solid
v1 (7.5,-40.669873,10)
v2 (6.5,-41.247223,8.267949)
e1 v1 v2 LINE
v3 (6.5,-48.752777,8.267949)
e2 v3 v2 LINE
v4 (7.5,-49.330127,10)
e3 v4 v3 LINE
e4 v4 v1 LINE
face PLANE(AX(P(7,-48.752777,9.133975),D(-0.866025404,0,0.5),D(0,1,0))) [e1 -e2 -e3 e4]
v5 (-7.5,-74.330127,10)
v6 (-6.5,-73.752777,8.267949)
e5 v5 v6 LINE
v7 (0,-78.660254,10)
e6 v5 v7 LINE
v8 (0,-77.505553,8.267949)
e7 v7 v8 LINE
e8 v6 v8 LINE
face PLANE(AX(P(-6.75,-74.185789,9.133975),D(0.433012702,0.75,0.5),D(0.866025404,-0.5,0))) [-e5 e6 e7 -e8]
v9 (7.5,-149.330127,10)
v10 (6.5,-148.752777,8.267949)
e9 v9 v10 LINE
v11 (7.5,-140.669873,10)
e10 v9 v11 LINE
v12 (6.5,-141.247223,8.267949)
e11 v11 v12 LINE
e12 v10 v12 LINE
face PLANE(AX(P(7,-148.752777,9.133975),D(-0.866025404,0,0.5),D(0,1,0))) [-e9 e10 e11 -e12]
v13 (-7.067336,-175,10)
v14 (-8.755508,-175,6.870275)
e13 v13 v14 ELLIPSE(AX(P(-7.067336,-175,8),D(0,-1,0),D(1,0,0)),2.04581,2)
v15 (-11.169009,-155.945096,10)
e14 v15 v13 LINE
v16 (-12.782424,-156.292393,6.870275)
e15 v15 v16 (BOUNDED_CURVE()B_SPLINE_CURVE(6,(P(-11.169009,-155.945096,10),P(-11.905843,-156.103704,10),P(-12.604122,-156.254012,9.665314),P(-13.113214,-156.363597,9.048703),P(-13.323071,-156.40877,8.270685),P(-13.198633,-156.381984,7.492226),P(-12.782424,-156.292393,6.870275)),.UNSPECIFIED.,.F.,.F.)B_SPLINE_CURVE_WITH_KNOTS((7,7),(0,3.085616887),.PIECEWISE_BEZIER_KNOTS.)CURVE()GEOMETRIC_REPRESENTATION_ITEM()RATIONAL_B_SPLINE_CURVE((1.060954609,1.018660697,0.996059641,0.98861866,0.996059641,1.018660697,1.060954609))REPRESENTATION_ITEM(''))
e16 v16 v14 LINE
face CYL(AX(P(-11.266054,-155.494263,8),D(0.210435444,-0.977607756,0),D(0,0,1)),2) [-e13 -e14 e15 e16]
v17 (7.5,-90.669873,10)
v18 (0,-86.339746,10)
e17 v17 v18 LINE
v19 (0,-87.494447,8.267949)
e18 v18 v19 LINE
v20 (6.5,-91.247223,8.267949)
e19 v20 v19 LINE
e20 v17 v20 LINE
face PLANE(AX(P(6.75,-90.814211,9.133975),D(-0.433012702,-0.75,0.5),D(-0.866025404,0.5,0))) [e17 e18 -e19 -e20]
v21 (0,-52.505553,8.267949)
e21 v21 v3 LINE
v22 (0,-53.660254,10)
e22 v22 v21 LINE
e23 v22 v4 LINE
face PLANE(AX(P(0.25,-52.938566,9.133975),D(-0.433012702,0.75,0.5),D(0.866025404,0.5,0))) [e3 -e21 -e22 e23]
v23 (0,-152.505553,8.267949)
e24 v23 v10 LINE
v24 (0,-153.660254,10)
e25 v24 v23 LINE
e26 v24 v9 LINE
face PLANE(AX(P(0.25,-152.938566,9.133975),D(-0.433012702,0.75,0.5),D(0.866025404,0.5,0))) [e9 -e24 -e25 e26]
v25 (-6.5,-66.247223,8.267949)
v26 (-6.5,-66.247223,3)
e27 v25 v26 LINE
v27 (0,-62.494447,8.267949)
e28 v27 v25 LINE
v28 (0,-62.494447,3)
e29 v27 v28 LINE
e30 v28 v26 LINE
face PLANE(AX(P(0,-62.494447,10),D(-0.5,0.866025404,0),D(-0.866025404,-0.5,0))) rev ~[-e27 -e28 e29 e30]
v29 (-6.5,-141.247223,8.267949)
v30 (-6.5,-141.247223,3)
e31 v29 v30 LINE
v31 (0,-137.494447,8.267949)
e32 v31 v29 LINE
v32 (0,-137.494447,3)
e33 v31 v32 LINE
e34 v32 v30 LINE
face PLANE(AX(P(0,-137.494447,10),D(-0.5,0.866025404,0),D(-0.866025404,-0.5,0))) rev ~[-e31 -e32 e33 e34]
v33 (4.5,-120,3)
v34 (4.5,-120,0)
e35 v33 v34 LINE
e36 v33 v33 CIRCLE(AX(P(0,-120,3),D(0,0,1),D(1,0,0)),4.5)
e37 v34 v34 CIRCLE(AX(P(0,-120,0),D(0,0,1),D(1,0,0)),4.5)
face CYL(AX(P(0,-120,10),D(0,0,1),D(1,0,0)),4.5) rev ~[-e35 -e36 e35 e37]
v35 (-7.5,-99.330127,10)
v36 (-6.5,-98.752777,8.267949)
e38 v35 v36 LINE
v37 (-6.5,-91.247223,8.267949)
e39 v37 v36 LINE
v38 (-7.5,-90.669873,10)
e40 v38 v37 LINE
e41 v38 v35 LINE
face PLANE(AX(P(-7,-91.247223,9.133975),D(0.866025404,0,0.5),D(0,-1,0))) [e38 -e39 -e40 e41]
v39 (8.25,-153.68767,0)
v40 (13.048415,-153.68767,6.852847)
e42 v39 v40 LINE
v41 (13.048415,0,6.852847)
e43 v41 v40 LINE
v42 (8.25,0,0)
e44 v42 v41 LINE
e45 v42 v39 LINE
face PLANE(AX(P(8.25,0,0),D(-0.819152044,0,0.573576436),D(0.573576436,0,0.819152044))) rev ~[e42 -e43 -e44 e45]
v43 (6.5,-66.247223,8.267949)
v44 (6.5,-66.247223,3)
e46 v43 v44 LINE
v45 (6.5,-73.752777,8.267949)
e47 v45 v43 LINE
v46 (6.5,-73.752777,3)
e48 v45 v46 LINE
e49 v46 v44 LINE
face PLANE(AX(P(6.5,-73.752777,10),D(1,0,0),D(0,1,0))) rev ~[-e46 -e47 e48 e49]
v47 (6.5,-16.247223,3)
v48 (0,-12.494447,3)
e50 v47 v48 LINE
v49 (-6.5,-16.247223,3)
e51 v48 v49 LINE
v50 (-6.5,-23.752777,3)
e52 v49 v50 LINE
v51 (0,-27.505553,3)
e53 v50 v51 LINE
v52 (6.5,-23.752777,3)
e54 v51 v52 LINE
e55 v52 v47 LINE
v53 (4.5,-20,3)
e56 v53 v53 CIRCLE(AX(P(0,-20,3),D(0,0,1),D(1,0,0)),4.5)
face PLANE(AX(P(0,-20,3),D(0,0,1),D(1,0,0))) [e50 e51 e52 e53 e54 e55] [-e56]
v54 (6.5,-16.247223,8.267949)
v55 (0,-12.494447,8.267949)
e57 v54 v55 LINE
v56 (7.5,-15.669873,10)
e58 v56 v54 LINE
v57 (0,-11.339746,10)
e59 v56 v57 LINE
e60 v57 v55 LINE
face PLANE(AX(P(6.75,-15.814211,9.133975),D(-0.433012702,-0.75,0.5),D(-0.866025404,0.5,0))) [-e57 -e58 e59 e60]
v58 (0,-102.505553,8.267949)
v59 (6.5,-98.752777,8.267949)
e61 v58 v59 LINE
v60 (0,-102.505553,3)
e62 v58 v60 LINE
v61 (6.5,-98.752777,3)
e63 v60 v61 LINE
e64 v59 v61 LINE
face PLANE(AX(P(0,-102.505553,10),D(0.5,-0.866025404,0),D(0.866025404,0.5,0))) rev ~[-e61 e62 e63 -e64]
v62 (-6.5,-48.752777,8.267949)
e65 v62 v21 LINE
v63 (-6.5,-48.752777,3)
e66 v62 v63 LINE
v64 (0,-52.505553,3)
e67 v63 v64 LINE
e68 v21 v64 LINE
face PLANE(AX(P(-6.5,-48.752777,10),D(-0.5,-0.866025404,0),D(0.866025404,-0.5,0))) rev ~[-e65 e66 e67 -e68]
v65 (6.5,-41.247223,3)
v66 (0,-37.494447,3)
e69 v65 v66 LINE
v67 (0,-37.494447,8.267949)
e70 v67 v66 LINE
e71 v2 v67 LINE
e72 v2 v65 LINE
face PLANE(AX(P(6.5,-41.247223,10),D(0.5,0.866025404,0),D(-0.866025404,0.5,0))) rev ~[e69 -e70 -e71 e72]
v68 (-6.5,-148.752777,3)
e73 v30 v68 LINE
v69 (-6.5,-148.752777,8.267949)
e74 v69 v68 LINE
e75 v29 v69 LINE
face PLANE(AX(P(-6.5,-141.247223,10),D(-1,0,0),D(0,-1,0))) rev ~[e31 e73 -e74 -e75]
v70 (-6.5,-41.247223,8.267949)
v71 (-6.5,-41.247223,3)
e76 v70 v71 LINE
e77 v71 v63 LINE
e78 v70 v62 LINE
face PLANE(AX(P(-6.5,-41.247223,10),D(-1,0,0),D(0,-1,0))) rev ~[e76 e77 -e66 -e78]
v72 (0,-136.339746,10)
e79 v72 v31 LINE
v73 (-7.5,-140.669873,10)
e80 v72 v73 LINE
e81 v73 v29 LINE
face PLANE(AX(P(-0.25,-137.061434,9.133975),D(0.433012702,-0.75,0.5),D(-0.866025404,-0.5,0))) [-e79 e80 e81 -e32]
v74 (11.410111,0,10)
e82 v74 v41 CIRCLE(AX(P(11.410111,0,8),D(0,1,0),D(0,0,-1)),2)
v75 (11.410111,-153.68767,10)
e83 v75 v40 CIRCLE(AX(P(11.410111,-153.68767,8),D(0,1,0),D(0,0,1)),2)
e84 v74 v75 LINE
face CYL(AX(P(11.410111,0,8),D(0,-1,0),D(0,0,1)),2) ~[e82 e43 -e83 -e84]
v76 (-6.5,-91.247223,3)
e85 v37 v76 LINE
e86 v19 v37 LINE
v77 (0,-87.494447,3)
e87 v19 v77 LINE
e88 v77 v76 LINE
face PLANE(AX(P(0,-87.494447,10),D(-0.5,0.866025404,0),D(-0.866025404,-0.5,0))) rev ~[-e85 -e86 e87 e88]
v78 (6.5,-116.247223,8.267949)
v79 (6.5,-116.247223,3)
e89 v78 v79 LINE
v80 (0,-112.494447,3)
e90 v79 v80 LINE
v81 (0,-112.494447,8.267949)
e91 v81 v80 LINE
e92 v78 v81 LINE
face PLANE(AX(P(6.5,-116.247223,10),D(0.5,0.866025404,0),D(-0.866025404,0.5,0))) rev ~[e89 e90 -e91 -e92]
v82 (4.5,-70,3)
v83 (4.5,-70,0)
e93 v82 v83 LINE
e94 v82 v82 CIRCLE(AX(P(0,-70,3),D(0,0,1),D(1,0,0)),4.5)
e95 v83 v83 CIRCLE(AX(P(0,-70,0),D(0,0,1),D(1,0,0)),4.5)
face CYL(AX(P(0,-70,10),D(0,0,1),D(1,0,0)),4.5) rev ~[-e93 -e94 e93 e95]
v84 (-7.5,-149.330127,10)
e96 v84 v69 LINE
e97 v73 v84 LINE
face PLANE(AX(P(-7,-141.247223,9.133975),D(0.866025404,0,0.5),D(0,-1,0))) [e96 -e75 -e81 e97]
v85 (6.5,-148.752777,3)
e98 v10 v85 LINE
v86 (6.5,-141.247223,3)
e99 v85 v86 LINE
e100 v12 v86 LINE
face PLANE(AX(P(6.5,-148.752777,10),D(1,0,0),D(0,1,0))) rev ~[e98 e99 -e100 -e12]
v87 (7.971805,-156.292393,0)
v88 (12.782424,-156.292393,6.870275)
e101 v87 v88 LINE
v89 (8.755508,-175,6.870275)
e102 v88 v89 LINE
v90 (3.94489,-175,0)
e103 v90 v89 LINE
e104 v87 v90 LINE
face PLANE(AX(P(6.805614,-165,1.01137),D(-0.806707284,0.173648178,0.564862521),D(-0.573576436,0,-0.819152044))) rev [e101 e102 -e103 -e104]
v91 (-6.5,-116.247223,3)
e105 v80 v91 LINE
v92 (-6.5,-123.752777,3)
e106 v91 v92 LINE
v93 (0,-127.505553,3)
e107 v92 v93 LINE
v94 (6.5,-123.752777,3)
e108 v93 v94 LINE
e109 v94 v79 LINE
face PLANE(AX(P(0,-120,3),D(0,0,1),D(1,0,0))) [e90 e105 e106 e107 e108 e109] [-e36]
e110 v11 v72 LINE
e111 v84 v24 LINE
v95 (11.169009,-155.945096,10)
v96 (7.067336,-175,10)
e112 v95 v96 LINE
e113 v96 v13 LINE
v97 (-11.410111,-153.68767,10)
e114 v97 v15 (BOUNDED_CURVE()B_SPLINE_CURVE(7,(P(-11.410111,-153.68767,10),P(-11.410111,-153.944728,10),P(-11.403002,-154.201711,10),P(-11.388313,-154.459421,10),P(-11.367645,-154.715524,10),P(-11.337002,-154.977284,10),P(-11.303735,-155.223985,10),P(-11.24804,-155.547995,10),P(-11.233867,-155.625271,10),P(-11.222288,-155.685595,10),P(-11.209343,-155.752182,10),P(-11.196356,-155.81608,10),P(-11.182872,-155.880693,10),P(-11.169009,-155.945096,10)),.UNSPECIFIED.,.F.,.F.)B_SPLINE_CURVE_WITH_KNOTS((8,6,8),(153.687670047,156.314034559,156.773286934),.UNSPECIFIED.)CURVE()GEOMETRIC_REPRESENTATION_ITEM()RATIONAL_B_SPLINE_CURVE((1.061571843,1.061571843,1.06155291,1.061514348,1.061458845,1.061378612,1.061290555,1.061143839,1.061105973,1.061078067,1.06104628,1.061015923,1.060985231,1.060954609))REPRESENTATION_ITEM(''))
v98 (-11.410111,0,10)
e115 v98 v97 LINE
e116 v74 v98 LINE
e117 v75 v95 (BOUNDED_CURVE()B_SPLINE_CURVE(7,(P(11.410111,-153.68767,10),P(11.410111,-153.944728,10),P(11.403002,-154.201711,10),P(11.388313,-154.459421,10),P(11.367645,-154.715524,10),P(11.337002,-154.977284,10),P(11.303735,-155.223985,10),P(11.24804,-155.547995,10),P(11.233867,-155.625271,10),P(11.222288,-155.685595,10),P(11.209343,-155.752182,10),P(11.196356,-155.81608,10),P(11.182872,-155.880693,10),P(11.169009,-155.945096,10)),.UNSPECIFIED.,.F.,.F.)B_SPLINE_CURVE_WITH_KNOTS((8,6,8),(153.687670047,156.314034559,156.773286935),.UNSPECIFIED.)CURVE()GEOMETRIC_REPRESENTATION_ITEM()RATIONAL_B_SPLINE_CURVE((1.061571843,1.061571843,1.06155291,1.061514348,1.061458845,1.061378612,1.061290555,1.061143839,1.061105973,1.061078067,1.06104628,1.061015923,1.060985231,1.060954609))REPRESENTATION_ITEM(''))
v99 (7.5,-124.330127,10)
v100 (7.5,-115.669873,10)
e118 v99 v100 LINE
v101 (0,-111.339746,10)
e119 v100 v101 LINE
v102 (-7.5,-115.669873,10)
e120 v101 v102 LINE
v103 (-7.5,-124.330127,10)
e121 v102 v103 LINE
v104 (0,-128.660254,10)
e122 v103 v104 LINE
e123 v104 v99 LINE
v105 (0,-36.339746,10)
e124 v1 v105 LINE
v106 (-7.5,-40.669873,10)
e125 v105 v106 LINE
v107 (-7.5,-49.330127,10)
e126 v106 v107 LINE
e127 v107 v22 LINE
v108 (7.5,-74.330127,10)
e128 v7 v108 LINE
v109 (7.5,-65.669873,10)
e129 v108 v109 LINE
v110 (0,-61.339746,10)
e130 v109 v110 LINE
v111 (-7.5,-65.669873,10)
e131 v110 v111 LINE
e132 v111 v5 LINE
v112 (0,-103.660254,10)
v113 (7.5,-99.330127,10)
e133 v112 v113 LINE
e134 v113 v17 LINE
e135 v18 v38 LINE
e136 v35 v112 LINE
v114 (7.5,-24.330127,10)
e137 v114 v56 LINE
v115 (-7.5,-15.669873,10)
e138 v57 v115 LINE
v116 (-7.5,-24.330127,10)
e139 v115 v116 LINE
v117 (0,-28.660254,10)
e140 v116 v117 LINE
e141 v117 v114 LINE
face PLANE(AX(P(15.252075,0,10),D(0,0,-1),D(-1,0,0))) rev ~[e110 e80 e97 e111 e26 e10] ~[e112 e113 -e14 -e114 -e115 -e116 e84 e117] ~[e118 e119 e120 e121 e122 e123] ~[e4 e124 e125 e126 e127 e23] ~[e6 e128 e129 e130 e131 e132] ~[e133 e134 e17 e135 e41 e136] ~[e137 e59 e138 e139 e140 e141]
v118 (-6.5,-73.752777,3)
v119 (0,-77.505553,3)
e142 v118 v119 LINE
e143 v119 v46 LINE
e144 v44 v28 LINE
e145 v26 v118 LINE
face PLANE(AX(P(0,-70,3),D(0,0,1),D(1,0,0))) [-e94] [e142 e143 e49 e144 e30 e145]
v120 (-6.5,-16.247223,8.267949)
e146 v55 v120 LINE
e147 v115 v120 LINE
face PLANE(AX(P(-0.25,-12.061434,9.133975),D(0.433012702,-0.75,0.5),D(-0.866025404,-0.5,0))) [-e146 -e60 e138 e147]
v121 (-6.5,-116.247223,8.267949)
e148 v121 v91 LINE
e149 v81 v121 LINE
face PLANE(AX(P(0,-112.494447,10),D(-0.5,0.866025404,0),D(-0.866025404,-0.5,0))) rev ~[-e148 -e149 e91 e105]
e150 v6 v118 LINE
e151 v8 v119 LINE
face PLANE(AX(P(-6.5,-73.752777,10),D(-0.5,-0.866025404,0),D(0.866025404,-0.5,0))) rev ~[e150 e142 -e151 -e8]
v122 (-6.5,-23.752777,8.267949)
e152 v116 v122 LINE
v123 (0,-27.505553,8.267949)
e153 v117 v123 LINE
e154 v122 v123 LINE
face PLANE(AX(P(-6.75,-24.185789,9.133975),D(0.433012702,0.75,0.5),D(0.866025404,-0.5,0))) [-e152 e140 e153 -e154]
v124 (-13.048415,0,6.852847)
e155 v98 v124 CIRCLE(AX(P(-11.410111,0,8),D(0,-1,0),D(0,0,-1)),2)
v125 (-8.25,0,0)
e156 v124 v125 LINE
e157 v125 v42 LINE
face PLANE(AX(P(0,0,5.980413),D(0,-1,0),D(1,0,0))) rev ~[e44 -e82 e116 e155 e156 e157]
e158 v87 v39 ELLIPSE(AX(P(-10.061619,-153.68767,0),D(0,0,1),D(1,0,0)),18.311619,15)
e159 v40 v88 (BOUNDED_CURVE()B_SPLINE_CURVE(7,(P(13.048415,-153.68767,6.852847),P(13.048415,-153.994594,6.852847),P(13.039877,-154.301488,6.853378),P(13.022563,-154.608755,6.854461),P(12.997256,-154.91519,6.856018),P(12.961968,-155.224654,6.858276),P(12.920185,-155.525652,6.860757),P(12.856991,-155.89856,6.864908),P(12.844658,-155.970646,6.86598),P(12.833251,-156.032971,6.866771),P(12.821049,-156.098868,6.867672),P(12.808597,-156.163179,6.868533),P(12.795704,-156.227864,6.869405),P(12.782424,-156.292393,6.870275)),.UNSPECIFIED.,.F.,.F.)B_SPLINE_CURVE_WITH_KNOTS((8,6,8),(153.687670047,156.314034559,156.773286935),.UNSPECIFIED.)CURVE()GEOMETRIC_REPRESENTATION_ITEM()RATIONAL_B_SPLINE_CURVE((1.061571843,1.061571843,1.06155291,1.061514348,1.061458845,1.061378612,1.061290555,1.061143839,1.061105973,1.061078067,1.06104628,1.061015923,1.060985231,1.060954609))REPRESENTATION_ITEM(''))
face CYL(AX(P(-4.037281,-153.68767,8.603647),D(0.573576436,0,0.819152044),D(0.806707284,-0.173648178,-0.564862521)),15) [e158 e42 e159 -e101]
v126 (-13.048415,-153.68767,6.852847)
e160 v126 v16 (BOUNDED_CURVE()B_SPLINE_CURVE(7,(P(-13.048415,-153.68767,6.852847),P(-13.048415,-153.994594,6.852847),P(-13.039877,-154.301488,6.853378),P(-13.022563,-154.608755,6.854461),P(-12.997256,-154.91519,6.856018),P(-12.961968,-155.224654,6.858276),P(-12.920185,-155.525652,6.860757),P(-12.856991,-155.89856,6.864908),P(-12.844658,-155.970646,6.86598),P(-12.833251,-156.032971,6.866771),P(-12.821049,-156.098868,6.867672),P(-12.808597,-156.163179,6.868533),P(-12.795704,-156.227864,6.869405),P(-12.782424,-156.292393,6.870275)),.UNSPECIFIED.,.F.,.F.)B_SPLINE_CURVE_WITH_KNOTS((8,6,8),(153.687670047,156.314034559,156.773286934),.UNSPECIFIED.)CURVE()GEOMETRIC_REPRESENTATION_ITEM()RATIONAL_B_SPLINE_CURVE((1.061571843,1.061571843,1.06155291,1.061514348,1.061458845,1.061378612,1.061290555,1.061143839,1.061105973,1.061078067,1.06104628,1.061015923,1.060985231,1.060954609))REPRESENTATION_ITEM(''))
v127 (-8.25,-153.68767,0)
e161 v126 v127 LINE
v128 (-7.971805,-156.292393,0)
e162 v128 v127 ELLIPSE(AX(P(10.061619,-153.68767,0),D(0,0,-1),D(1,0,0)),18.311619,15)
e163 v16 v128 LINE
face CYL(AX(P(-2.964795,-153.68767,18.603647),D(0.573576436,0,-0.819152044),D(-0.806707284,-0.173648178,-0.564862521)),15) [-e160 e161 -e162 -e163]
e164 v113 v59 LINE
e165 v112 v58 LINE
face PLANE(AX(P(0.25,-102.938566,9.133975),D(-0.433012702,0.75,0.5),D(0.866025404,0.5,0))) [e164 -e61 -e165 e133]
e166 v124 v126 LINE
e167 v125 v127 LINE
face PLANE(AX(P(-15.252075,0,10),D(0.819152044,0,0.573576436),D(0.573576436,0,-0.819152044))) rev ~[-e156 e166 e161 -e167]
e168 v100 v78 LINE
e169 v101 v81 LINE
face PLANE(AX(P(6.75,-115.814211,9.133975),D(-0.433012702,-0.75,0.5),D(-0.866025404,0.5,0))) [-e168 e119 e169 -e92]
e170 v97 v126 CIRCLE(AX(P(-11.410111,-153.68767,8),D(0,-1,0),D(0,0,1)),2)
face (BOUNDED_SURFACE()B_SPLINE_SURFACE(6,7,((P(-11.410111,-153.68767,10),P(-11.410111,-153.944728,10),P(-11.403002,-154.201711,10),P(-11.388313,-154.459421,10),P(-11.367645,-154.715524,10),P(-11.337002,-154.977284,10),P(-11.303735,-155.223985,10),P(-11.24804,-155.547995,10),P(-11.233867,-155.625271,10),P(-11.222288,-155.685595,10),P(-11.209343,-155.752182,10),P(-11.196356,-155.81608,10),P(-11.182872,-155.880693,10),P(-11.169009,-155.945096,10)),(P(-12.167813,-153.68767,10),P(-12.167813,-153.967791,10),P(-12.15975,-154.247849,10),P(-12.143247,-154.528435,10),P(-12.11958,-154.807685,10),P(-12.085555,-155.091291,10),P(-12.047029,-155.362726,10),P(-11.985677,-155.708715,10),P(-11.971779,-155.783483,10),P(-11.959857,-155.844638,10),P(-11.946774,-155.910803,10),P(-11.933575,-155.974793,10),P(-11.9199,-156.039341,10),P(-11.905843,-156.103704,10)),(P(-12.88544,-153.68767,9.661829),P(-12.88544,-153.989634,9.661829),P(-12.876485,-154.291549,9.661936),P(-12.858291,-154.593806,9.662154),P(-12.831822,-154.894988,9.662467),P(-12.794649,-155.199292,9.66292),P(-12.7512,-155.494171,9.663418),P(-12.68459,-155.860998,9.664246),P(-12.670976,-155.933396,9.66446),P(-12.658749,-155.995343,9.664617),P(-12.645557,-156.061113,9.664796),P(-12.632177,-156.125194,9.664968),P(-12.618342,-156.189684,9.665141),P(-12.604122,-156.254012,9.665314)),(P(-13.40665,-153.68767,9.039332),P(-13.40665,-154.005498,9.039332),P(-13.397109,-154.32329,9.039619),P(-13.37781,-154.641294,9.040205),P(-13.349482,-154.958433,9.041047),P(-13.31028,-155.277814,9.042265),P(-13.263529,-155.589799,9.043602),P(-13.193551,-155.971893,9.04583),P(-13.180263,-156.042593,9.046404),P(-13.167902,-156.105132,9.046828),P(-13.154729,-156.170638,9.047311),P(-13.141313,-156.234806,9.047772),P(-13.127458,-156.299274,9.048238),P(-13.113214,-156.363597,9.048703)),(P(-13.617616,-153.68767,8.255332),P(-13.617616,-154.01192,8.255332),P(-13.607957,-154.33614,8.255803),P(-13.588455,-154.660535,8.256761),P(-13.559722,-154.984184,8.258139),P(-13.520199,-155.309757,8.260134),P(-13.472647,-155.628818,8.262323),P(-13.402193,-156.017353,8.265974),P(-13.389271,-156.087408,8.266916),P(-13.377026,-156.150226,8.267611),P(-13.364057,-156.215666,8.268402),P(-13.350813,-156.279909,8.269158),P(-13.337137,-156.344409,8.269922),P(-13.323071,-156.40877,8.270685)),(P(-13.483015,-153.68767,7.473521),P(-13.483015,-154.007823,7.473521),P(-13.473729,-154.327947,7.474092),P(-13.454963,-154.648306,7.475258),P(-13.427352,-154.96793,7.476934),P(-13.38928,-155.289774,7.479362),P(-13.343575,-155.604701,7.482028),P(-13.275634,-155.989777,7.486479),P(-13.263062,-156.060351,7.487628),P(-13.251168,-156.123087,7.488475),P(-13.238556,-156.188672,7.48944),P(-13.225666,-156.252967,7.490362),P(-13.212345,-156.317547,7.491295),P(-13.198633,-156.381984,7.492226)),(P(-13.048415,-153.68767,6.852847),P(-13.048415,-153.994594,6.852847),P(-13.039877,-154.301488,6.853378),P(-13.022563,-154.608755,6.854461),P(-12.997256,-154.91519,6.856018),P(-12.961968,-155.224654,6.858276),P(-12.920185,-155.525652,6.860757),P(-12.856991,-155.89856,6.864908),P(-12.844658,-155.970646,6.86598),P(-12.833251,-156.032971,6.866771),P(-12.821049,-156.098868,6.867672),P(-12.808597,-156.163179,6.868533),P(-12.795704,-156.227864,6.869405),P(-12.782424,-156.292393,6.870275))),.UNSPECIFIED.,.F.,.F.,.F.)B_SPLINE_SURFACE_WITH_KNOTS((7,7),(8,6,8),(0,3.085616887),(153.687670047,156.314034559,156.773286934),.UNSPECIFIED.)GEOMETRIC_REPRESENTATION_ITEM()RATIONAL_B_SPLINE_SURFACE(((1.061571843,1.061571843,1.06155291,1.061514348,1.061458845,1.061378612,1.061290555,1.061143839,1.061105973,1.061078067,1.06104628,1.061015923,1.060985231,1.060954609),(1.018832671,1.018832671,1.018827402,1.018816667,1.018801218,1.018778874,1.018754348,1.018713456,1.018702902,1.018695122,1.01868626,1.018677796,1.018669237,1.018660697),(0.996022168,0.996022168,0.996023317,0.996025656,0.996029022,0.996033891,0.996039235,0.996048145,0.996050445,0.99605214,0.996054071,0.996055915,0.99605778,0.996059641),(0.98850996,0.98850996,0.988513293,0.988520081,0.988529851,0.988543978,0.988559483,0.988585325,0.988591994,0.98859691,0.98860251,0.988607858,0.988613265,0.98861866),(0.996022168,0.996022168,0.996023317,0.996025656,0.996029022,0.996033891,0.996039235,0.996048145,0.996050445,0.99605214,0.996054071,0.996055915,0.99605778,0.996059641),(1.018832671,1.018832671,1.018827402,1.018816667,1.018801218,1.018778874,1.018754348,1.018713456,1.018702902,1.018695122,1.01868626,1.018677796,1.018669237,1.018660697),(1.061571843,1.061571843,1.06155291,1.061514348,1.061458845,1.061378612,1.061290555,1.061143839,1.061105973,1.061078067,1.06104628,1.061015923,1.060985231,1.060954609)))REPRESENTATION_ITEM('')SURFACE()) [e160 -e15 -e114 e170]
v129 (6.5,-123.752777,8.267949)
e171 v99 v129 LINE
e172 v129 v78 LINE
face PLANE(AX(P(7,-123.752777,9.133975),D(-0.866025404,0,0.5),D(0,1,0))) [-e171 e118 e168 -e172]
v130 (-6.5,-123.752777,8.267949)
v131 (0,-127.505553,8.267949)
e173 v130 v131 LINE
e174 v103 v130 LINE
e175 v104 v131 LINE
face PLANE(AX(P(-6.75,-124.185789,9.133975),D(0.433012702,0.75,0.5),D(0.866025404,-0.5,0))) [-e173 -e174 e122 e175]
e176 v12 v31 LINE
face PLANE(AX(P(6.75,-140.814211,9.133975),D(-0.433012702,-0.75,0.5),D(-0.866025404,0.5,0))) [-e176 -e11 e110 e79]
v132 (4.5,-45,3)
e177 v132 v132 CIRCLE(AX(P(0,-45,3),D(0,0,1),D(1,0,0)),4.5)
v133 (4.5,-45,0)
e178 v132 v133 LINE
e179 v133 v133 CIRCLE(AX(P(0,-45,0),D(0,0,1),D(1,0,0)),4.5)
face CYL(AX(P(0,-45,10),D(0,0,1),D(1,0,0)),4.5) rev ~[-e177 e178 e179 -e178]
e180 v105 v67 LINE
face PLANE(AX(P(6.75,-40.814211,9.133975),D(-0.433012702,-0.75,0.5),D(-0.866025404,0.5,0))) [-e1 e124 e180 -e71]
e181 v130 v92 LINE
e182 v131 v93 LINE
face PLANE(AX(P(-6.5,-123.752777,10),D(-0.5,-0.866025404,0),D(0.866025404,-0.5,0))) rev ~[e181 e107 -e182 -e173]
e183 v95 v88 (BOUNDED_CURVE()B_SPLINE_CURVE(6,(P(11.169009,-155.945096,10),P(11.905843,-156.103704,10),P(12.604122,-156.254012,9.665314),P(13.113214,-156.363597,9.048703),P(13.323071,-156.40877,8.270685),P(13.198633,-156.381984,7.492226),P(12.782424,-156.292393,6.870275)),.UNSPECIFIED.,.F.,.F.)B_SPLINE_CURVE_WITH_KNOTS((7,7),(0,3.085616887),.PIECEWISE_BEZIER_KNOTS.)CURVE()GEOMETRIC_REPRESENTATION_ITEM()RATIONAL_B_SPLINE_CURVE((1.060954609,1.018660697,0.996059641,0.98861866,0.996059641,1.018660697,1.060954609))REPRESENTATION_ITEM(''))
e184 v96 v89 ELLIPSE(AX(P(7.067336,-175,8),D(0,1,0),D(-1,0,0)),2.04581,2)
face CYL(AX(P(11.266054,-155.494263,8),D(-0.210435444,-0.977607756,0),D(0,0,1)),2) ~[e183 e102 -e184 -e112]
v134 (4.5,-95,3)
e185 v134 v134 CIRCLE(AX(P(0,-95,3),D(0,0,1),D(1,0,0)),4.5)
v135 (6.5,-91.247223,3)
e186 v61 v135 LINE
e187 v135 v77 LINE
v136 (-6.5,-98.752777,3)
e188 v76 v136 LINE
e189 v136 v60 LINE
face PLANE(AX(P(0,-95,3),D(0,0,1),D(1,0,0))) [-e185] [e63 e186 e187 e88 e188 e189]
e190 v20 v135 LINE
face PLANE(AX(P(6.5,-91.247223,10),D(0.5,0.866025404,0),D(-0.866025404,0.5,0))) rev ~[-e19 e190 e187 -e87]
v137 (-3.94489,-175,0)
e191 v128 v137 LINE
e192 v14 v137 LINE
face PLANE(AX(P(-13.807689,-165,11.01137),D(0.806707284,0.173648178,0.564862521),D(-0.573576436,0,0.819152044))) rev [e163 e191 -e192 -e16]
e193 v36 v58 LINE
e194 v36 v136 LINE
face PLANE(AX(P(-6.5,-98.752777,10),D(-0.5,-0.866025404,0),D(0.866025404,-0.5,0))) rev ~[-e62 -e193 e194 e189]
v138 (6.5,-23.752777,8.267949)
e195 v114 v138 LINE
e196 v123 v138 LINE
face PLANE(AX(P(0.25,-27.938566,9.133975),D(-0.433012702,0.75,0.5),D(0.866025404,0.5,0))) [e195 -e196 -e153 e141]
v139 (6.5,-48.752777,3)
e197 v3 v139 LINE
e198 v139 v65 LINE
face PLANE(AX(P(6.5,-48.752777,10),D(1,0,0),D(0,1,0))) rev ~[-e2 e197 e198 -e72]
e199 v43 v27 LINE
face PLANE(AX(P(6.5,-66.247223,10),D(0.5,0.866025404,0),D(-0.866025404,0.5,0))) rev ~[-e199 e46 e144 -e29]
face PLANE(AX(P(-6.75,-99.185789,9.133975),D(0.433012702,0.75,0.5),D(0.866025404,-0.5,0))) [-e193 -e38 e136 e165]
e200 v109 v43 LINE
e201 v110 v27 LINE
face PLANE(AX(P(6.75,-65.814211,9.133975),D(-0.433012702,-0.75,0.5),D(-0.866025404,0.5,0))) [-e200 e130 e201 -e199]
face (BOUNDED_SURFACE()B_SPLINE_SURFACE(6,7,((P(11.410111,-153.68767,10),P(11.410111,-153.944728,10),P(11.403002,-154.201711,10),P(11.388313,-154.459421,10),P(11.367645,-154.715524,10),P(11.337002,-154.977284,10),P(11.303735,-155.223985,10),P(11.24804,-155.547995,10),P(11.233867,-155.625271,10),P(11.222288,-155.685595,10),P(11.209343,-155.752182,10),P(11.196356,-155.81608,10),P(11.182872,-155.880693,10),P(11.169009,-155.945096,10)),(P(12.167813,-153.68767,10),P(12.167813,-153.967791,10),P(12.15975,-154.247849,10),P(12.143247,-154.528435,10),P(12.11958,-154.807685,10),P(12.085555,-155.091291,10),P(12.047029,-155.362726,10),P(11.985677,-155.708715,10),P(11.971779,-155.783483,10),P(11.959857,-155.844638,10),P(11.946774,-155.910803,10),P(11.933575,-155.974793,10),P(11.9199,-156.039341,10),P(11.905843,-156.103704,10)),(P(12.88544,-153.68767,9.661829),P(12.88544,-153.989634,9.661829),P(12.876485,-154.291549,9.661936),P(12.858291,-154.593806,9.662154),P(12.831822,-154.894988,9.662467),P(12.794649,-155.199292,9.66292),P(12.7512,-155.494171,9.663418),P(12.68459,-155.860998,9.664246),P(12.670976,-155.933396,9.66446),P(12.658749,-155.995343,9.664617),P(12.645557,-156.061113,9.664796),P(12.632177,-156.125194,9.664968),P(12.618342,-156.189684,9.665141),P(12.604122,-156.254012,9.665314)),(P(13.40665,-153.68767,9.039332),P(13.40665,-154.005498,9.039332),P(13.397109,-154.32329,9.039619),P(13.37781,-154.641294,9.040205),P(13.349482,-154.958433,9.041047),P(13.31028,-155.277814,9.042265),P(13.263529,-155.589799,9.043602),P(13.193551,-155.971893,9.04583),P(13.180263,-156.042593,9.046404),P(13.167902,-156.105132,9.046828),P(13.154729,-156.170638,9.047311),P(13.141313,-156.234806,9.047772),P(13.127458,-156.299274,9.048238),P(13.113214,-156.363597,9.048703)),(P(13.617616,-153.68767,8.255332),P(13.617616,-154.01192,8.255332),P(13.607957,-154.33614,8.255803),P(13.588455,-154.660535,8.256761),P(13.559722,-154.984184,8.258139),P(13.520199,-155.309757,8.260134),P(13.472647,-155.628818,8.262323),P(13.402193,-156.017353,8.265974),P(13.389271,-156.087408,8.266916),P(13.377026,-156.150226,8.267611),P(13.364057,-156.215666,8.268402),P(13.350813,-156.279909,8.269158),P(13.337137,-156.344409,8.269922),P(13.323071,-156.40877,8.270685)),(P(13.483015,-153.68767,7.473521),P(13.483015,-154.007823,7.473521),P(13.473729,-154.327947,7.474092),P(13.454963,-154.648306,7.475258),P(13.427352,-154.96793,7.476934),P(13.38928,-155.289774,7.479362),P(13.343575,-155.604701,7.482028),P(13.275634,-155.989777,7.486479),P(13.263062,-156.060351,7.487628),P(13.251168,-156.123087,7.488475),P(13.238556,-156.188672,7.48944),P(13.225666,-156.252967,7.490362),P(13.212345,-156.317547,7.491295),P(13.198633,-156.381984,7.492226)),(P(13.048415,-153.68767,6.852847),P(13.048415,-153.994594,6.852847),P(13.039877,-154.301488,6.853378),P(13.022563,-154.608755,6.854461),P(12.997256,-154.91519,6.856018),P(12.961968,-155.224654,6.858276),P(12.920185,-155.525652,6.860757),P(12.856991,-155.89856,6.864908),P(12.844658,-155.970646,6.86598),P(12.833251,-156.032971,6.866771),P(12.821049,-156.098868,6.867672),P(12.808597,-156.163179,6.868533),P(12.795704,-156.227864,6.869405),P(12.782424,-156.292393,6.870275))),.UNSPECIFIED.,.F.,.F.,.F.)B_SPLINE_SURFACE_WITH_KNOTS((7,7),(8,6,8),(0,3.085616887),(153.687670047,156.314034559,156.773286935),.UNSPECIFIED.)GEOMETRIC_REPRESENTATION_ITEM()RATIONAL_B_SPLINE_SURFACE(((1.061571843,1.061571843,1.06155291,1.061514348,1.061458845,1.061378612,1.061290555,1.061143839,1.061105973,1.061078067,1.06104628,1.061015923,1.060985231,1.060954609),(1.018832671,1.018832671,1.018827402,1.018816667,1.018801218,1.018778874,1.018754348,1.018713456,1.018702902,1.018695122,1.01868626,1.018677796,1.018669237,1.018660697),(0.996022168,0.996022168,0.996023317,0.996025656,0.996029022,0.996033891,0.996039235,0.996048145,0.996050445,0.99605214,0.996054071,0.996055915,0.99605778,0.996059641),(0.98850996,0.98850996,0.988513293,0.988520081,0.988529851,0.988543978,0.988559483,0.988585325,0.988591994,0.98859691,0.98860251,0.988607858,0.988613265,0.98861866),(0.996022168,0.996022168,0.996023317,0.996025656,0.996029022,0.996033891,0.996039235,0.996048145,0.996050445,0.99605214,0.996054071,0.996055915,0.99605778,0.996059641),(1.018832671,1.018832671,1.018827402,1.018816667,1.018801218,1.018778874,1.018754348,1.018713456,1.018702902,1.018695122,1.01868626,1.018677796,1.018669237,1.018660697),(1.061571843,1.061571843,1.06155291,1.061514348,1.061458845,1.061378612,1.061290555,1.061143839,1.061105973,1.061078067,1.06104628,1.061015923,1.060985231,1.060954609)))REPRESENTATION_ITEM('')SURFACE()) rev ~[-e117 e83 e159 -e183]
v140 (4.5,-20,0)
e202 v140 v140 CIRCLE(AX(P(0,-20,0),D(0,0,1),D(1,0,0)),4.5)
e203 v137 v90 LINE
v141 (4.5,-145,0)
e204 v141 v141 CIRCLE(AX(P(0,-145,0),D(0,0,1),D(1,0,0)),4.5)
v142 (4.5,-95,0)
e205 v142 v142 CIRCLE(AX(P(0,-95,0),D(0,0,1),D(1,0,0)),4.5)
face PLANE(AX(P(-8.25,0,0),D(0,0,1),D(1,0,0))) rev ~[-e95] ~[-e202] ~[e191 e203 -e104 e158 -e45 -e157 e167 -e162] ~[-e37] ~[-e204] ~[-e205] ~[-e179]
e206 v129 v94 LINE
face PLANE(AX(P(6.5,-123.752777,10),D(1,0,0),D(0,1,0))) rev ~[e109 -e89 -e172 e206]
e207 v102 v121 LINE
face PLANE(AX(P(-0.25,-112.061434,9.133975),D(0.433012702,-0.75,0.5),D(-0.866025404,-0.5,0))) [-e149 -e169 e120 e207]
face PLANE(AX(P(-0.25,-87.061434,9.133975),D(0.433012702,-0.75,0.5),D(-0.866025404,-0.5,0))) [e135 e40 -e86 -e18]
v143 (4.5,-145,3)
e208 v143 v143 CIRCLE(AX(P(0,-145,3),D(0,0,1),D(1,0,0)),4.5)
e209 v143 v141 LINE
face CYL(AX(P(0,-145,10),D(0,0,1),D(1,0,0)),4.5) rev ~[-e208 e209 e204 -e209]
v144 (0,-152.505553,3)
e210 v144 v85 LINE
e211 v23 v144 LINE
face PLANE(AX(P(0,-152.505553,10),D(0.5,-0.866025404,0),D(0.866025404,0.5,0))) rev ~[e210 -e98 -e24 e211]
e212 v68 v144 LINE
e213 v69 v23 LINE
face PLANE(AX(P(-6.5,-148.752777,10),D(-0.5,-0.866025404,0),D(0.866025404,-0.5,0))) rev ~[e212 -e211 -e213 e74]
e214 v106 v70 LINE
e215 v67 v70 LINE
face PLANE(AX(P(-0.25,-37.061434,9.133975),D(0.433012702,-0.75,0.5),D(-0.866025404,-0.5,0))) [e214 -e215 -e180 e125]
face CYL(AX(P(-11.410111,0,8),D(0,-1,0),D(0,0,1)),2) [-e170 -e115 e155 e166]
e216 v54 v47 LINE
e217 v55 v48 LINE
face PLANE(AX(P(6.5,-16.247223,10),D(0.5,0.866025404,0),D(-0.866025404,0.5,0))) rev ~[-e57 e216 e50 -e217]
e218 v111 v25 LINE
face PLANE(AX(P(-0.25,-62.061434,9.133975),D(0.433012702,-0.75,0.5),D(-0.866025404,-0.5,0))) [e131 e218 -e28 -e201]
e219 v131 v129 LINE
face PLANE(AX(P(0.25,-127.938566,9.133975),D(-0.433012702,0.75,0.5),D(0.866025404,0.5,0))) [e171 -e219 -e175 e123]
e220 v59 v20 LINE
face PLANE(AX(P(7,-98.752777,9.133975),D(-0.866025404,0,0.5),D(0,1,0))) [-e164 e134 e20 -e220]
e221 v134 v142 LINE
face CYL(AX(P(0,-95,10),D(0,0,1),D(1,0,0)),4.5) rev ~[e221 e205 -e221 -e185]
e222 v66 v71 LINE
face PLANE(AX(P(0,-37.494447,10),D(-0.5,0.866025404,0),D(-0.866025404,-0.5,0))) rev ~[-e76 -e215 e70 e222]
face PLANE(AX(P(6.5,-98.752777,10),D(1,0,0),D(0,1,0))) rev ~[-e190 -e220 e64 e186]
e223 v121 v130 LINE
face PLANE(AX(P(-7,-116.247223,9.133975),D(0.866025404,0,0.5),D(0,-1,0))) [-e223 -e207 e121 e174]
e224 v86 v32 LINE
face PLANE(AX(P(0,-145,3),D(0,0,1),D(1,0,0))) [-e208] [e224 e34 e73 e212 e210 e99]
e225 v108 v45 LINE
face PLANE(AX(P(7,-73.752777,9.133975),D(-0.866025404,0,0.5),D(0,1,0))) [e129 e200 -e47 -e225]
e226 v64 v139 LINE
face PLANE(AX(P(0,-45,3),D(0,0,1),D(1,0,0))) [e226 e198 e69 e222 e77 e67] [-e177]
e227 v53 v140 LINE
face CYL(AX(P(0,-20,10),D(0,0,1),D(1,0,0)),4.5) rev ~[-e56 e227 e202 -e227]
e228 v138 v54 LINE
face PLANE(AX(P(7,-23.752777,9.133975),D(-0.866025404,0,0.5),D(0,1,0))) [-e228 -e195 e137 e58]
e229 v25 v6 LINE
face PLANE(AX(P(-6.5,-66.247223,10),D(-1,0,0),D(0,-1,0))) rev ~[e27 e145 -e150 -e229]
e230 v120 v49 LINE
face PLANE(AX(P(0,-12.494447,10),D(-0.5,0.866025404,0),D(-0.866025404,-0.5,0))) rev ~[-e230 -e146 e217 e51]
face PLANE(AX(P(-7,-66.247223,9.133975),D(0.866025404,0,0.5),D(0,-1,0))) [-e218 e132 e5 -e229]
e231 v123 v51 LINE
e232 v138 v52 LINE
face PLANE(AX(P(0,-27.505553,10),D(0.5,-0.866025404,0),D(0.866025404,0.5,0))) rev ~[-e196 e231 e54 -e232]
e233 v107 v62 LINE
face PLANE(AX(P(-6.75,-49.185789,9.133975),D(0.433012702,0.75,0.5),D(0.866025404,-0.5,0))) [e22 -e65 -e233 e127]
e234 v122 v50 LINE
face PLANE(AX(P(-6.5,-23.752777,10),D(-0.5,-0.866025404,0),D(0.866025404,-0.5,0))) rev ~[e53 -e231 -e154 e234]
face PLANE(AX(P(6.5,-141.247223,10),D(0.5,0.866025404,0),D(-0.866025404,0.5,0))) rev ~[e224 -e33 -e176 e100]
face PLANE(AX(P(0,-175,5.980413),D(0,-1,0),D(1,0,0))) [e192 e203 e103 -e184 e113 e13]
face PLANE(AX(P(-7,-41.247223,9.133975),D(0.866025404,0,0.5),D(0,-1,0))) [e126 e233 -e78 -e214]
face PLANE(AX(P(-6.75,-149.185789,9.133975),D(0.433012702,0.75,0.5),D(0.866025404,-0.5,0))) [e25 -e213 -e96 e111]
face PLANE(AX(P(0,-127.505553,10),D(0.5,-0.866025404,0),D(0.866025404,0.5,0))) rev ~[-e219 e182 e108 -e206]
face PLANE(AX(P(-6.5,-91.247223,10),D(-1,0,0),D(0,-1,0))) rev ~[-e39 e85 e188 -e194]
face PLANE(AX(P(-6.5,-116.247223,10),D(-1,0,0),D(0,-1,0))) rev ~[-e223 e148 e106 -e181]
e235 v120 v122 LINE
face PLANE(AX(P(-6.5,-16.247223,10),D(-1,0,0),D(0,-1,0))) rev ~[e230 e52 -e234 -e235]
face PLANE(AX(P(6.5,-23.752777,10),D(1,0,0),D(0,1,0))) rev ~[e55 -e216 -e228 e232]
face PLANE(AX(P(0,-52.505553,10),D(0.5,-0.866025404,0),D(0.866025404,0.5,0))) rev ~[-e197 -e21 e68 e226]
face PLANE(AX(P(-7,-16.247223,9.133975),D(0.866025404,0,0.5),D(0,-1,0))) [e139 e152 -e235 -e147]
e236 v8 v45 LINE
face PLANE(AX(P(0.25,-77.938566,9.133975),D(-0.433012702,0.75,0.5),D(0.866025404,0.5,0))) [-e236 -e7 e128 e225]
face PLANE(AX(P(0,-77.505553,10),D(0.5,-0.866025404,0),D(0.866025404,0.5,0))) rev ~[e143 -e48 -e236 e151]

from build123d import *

# Parameters (mm, degrees)
F1_DEPTH   = 175
F2_R       = 4.5
F3_DEPTH   = 7
F4_DEPTH   = 25
F5_SIZE2   = 1.7320508076
F5_SIZE    = 1
F6_SIZE2   = 3.5265396142
F6_SIZE    = 20
F6_2_SIZE2 = 3.5265396142
F6_2_SIZE  = 20
F7_R       = 15
F8_R       = 2


with BuildPart() as f1:
    # F0 (on Front) → F1 (new body)
    with BuildSketch(Plane.XZ):
        Polygon((-15.2520753821, 10), (-8.25, 0), (8.25, 0), (15.2520753821, 10), align=None)
    extrude(amount=F1_DEPTH)

    # F2 (on face) → F3 (cut)
    with BuildSketch(Plane.XY.offset(10)):
        Polygon((6.5, -23.7527767497), (6.5, -16.2472232503), (0, -12.4944465005), (-6.5, -16.2472232503), (-6.5, -23.7527767497), (0, -27.5055534995), align=None)
        with Locations((0, -20)):
            Circle(F2_R, mode=Mode.SUBTRACT)
        Polygon((-6.5, -41.2472232503), (-6.5, -48.7527767497), (0, -52.5055534995), (6.5, -48.7527767497), (6.5, -41.2472232503), (0, -37.4944465005), align=None)
        with Locations((0, -45)):
            Circle(F2_R, mode=Mode.SUBTRACT)
        Polygon((-6.5, -66.2472232503), (-6.5, -73.7527767497), (0, -77.5055534995), (6.5, -73.7527767497), (6.5, -66.2472232503), (0, -62.4944465005), align=None)
        with Locations((0, -70)):
            Circle(F2_R, mode=Mode.SUBTRACT)
        Polygon((-6.5, -91.2472232503), (-6.5, -98.7527767497), (0, -102.5055534995), (6.5, -98.7527767497), (6.5, -91.2472232503), (0, -87.4944465005), align=None)
        with Locations((0, -95)):
            Circle(F2_R, mode=Mode.SUBTRACT)
        Polygon((-6.5, -116.2472232503), (-6.5, -123.7527767497), (0, -127.5055534995), (6.5, -123.7527767497), (6.5, -116.2472232503), (0, -112.4944465005), align=None)
        with Locations((0, -120)):
            Circle(F2_R, mode=Mode.SUBTRACT)
        Polygon((-6.5, -141.2472232503), (-6.5, -148.7527767497), (0, -152.5055534995), (6.5, -148.7527767497), (6.5, -141.2472232503), (0, -137.4944465005), align=None)
        with Locations((0, -145)):
            Circle(F2_R, mode=Mode.SUBTRACT)
    extrude(amount=-F3_DEPTH, mode=Mode.SUBTRACT)

    # F4 (cut): faces of the model
    f4_faces = [f1.faces().sort_by_distance(p)[0] for p in [
        (0, -20, 10),
        (0, -45, 10),
        (0, -70, 10),
        (0, -95, 10),
        (0, -120, 10),
        (0, -145, 10),
    ]]
    extrude(f4_faces, amount=-F4_DEPTH, mode=Mode.SUBTRACT)

    # F5
    f5_edges = [f1.edges().sort_by_distance(p)[0] for p in [
        (-6.5, -145, 10),
        (-3.25, -139.370835, 10),
        (-3.25, -150.629165, 10),
        (3.25, -150.629165, 10),
        (6.5, -145, 10),
        (3.25, -139.370835, 10),
        (-3.25, -125.629165, 10),
        (-6.5, -120, 10),
        (-3.25, -114.370835, 10),
        (3.25, -114.370835, 10),
        (6.5, -120, 10),
        (3.25, -125.629165, 10),
        (-6.5, -95, 10),
        (-3.25, -89.370835, 10),
        (3.25, -89.370835, 10),
        (6.5, -95, 10),
        (3.25, -100.629165, 10),
        (-3.25, -100.629165, 10),
        (-3.25, -75.629165, 10),
        (-6.5, -70, 10),
        (-3.25, -64.370835, 10),
        (3.25, -64.370835, 10),
        (6.5, -70, 10),
        (3.25, -75.629165, 10),
        (-6.5, -45, 10),
        (-3.25, -39.370835, 10),
        (3.25, -39.370835, 10),
        (6.5, -45, 10),
        (3.25, -50.629165, 10),
        (-3.25, -50.629165, 10),
        (-3.25, -25.629165, 10),
        (-6.5, -20, 10),
        (-3.25, -14.370835, 10),
        (3.25, -14.370835, 10),
        (6.5, -20, 10),
        (3.25, -25.629165, 10),
    ]]
    chamfer(f5_edges, length=F5_SIZE, length2=F5_SIZE2)

    # F6
    f6_edges = [f1.edges().sort_by_distance(p)[0] for p in [
        (-11.751038, -175, 5),
    ]]
    f6_side = f1.faces().sort_by_distance((-11.751038, -87.5, 5))[0]
    chamfer(f6_edges, length=F6_SIZE, length2=F6_SIZE2, reference=f6_side)

    # F6#2
    f6_2_edges = [f1.edges().sort_by_distance(p)[0] for p in [
        (11.751038, -175, 5),
    ]]
    f6_2_side = f1.faces().sort_by_distance((11.751038, -87.5, 5))[0]
    chamfer(f6_2_edges, length=F6_2_SIZE, length2=F6_2_SIZE2, reference=f6_2_side)

    # F7
    f7_edges = [f1.edges().sort_by_distance(p)[0] for p in [
        (-11.751038, -155, 5),
        (11.751038, -155, 5),
    ]]
    fillet(f7_edges, radius=F7_R)

    # F8
    f8_edges = [f1.edges().sort_by_distance(p)[0] for p in [
        (12.960423, -165.646196, 10),
        (-12.960423, -165.646196, 10),
    ]]
    fillet(f8_edges, radius=F8_R)


solid = f1.part
